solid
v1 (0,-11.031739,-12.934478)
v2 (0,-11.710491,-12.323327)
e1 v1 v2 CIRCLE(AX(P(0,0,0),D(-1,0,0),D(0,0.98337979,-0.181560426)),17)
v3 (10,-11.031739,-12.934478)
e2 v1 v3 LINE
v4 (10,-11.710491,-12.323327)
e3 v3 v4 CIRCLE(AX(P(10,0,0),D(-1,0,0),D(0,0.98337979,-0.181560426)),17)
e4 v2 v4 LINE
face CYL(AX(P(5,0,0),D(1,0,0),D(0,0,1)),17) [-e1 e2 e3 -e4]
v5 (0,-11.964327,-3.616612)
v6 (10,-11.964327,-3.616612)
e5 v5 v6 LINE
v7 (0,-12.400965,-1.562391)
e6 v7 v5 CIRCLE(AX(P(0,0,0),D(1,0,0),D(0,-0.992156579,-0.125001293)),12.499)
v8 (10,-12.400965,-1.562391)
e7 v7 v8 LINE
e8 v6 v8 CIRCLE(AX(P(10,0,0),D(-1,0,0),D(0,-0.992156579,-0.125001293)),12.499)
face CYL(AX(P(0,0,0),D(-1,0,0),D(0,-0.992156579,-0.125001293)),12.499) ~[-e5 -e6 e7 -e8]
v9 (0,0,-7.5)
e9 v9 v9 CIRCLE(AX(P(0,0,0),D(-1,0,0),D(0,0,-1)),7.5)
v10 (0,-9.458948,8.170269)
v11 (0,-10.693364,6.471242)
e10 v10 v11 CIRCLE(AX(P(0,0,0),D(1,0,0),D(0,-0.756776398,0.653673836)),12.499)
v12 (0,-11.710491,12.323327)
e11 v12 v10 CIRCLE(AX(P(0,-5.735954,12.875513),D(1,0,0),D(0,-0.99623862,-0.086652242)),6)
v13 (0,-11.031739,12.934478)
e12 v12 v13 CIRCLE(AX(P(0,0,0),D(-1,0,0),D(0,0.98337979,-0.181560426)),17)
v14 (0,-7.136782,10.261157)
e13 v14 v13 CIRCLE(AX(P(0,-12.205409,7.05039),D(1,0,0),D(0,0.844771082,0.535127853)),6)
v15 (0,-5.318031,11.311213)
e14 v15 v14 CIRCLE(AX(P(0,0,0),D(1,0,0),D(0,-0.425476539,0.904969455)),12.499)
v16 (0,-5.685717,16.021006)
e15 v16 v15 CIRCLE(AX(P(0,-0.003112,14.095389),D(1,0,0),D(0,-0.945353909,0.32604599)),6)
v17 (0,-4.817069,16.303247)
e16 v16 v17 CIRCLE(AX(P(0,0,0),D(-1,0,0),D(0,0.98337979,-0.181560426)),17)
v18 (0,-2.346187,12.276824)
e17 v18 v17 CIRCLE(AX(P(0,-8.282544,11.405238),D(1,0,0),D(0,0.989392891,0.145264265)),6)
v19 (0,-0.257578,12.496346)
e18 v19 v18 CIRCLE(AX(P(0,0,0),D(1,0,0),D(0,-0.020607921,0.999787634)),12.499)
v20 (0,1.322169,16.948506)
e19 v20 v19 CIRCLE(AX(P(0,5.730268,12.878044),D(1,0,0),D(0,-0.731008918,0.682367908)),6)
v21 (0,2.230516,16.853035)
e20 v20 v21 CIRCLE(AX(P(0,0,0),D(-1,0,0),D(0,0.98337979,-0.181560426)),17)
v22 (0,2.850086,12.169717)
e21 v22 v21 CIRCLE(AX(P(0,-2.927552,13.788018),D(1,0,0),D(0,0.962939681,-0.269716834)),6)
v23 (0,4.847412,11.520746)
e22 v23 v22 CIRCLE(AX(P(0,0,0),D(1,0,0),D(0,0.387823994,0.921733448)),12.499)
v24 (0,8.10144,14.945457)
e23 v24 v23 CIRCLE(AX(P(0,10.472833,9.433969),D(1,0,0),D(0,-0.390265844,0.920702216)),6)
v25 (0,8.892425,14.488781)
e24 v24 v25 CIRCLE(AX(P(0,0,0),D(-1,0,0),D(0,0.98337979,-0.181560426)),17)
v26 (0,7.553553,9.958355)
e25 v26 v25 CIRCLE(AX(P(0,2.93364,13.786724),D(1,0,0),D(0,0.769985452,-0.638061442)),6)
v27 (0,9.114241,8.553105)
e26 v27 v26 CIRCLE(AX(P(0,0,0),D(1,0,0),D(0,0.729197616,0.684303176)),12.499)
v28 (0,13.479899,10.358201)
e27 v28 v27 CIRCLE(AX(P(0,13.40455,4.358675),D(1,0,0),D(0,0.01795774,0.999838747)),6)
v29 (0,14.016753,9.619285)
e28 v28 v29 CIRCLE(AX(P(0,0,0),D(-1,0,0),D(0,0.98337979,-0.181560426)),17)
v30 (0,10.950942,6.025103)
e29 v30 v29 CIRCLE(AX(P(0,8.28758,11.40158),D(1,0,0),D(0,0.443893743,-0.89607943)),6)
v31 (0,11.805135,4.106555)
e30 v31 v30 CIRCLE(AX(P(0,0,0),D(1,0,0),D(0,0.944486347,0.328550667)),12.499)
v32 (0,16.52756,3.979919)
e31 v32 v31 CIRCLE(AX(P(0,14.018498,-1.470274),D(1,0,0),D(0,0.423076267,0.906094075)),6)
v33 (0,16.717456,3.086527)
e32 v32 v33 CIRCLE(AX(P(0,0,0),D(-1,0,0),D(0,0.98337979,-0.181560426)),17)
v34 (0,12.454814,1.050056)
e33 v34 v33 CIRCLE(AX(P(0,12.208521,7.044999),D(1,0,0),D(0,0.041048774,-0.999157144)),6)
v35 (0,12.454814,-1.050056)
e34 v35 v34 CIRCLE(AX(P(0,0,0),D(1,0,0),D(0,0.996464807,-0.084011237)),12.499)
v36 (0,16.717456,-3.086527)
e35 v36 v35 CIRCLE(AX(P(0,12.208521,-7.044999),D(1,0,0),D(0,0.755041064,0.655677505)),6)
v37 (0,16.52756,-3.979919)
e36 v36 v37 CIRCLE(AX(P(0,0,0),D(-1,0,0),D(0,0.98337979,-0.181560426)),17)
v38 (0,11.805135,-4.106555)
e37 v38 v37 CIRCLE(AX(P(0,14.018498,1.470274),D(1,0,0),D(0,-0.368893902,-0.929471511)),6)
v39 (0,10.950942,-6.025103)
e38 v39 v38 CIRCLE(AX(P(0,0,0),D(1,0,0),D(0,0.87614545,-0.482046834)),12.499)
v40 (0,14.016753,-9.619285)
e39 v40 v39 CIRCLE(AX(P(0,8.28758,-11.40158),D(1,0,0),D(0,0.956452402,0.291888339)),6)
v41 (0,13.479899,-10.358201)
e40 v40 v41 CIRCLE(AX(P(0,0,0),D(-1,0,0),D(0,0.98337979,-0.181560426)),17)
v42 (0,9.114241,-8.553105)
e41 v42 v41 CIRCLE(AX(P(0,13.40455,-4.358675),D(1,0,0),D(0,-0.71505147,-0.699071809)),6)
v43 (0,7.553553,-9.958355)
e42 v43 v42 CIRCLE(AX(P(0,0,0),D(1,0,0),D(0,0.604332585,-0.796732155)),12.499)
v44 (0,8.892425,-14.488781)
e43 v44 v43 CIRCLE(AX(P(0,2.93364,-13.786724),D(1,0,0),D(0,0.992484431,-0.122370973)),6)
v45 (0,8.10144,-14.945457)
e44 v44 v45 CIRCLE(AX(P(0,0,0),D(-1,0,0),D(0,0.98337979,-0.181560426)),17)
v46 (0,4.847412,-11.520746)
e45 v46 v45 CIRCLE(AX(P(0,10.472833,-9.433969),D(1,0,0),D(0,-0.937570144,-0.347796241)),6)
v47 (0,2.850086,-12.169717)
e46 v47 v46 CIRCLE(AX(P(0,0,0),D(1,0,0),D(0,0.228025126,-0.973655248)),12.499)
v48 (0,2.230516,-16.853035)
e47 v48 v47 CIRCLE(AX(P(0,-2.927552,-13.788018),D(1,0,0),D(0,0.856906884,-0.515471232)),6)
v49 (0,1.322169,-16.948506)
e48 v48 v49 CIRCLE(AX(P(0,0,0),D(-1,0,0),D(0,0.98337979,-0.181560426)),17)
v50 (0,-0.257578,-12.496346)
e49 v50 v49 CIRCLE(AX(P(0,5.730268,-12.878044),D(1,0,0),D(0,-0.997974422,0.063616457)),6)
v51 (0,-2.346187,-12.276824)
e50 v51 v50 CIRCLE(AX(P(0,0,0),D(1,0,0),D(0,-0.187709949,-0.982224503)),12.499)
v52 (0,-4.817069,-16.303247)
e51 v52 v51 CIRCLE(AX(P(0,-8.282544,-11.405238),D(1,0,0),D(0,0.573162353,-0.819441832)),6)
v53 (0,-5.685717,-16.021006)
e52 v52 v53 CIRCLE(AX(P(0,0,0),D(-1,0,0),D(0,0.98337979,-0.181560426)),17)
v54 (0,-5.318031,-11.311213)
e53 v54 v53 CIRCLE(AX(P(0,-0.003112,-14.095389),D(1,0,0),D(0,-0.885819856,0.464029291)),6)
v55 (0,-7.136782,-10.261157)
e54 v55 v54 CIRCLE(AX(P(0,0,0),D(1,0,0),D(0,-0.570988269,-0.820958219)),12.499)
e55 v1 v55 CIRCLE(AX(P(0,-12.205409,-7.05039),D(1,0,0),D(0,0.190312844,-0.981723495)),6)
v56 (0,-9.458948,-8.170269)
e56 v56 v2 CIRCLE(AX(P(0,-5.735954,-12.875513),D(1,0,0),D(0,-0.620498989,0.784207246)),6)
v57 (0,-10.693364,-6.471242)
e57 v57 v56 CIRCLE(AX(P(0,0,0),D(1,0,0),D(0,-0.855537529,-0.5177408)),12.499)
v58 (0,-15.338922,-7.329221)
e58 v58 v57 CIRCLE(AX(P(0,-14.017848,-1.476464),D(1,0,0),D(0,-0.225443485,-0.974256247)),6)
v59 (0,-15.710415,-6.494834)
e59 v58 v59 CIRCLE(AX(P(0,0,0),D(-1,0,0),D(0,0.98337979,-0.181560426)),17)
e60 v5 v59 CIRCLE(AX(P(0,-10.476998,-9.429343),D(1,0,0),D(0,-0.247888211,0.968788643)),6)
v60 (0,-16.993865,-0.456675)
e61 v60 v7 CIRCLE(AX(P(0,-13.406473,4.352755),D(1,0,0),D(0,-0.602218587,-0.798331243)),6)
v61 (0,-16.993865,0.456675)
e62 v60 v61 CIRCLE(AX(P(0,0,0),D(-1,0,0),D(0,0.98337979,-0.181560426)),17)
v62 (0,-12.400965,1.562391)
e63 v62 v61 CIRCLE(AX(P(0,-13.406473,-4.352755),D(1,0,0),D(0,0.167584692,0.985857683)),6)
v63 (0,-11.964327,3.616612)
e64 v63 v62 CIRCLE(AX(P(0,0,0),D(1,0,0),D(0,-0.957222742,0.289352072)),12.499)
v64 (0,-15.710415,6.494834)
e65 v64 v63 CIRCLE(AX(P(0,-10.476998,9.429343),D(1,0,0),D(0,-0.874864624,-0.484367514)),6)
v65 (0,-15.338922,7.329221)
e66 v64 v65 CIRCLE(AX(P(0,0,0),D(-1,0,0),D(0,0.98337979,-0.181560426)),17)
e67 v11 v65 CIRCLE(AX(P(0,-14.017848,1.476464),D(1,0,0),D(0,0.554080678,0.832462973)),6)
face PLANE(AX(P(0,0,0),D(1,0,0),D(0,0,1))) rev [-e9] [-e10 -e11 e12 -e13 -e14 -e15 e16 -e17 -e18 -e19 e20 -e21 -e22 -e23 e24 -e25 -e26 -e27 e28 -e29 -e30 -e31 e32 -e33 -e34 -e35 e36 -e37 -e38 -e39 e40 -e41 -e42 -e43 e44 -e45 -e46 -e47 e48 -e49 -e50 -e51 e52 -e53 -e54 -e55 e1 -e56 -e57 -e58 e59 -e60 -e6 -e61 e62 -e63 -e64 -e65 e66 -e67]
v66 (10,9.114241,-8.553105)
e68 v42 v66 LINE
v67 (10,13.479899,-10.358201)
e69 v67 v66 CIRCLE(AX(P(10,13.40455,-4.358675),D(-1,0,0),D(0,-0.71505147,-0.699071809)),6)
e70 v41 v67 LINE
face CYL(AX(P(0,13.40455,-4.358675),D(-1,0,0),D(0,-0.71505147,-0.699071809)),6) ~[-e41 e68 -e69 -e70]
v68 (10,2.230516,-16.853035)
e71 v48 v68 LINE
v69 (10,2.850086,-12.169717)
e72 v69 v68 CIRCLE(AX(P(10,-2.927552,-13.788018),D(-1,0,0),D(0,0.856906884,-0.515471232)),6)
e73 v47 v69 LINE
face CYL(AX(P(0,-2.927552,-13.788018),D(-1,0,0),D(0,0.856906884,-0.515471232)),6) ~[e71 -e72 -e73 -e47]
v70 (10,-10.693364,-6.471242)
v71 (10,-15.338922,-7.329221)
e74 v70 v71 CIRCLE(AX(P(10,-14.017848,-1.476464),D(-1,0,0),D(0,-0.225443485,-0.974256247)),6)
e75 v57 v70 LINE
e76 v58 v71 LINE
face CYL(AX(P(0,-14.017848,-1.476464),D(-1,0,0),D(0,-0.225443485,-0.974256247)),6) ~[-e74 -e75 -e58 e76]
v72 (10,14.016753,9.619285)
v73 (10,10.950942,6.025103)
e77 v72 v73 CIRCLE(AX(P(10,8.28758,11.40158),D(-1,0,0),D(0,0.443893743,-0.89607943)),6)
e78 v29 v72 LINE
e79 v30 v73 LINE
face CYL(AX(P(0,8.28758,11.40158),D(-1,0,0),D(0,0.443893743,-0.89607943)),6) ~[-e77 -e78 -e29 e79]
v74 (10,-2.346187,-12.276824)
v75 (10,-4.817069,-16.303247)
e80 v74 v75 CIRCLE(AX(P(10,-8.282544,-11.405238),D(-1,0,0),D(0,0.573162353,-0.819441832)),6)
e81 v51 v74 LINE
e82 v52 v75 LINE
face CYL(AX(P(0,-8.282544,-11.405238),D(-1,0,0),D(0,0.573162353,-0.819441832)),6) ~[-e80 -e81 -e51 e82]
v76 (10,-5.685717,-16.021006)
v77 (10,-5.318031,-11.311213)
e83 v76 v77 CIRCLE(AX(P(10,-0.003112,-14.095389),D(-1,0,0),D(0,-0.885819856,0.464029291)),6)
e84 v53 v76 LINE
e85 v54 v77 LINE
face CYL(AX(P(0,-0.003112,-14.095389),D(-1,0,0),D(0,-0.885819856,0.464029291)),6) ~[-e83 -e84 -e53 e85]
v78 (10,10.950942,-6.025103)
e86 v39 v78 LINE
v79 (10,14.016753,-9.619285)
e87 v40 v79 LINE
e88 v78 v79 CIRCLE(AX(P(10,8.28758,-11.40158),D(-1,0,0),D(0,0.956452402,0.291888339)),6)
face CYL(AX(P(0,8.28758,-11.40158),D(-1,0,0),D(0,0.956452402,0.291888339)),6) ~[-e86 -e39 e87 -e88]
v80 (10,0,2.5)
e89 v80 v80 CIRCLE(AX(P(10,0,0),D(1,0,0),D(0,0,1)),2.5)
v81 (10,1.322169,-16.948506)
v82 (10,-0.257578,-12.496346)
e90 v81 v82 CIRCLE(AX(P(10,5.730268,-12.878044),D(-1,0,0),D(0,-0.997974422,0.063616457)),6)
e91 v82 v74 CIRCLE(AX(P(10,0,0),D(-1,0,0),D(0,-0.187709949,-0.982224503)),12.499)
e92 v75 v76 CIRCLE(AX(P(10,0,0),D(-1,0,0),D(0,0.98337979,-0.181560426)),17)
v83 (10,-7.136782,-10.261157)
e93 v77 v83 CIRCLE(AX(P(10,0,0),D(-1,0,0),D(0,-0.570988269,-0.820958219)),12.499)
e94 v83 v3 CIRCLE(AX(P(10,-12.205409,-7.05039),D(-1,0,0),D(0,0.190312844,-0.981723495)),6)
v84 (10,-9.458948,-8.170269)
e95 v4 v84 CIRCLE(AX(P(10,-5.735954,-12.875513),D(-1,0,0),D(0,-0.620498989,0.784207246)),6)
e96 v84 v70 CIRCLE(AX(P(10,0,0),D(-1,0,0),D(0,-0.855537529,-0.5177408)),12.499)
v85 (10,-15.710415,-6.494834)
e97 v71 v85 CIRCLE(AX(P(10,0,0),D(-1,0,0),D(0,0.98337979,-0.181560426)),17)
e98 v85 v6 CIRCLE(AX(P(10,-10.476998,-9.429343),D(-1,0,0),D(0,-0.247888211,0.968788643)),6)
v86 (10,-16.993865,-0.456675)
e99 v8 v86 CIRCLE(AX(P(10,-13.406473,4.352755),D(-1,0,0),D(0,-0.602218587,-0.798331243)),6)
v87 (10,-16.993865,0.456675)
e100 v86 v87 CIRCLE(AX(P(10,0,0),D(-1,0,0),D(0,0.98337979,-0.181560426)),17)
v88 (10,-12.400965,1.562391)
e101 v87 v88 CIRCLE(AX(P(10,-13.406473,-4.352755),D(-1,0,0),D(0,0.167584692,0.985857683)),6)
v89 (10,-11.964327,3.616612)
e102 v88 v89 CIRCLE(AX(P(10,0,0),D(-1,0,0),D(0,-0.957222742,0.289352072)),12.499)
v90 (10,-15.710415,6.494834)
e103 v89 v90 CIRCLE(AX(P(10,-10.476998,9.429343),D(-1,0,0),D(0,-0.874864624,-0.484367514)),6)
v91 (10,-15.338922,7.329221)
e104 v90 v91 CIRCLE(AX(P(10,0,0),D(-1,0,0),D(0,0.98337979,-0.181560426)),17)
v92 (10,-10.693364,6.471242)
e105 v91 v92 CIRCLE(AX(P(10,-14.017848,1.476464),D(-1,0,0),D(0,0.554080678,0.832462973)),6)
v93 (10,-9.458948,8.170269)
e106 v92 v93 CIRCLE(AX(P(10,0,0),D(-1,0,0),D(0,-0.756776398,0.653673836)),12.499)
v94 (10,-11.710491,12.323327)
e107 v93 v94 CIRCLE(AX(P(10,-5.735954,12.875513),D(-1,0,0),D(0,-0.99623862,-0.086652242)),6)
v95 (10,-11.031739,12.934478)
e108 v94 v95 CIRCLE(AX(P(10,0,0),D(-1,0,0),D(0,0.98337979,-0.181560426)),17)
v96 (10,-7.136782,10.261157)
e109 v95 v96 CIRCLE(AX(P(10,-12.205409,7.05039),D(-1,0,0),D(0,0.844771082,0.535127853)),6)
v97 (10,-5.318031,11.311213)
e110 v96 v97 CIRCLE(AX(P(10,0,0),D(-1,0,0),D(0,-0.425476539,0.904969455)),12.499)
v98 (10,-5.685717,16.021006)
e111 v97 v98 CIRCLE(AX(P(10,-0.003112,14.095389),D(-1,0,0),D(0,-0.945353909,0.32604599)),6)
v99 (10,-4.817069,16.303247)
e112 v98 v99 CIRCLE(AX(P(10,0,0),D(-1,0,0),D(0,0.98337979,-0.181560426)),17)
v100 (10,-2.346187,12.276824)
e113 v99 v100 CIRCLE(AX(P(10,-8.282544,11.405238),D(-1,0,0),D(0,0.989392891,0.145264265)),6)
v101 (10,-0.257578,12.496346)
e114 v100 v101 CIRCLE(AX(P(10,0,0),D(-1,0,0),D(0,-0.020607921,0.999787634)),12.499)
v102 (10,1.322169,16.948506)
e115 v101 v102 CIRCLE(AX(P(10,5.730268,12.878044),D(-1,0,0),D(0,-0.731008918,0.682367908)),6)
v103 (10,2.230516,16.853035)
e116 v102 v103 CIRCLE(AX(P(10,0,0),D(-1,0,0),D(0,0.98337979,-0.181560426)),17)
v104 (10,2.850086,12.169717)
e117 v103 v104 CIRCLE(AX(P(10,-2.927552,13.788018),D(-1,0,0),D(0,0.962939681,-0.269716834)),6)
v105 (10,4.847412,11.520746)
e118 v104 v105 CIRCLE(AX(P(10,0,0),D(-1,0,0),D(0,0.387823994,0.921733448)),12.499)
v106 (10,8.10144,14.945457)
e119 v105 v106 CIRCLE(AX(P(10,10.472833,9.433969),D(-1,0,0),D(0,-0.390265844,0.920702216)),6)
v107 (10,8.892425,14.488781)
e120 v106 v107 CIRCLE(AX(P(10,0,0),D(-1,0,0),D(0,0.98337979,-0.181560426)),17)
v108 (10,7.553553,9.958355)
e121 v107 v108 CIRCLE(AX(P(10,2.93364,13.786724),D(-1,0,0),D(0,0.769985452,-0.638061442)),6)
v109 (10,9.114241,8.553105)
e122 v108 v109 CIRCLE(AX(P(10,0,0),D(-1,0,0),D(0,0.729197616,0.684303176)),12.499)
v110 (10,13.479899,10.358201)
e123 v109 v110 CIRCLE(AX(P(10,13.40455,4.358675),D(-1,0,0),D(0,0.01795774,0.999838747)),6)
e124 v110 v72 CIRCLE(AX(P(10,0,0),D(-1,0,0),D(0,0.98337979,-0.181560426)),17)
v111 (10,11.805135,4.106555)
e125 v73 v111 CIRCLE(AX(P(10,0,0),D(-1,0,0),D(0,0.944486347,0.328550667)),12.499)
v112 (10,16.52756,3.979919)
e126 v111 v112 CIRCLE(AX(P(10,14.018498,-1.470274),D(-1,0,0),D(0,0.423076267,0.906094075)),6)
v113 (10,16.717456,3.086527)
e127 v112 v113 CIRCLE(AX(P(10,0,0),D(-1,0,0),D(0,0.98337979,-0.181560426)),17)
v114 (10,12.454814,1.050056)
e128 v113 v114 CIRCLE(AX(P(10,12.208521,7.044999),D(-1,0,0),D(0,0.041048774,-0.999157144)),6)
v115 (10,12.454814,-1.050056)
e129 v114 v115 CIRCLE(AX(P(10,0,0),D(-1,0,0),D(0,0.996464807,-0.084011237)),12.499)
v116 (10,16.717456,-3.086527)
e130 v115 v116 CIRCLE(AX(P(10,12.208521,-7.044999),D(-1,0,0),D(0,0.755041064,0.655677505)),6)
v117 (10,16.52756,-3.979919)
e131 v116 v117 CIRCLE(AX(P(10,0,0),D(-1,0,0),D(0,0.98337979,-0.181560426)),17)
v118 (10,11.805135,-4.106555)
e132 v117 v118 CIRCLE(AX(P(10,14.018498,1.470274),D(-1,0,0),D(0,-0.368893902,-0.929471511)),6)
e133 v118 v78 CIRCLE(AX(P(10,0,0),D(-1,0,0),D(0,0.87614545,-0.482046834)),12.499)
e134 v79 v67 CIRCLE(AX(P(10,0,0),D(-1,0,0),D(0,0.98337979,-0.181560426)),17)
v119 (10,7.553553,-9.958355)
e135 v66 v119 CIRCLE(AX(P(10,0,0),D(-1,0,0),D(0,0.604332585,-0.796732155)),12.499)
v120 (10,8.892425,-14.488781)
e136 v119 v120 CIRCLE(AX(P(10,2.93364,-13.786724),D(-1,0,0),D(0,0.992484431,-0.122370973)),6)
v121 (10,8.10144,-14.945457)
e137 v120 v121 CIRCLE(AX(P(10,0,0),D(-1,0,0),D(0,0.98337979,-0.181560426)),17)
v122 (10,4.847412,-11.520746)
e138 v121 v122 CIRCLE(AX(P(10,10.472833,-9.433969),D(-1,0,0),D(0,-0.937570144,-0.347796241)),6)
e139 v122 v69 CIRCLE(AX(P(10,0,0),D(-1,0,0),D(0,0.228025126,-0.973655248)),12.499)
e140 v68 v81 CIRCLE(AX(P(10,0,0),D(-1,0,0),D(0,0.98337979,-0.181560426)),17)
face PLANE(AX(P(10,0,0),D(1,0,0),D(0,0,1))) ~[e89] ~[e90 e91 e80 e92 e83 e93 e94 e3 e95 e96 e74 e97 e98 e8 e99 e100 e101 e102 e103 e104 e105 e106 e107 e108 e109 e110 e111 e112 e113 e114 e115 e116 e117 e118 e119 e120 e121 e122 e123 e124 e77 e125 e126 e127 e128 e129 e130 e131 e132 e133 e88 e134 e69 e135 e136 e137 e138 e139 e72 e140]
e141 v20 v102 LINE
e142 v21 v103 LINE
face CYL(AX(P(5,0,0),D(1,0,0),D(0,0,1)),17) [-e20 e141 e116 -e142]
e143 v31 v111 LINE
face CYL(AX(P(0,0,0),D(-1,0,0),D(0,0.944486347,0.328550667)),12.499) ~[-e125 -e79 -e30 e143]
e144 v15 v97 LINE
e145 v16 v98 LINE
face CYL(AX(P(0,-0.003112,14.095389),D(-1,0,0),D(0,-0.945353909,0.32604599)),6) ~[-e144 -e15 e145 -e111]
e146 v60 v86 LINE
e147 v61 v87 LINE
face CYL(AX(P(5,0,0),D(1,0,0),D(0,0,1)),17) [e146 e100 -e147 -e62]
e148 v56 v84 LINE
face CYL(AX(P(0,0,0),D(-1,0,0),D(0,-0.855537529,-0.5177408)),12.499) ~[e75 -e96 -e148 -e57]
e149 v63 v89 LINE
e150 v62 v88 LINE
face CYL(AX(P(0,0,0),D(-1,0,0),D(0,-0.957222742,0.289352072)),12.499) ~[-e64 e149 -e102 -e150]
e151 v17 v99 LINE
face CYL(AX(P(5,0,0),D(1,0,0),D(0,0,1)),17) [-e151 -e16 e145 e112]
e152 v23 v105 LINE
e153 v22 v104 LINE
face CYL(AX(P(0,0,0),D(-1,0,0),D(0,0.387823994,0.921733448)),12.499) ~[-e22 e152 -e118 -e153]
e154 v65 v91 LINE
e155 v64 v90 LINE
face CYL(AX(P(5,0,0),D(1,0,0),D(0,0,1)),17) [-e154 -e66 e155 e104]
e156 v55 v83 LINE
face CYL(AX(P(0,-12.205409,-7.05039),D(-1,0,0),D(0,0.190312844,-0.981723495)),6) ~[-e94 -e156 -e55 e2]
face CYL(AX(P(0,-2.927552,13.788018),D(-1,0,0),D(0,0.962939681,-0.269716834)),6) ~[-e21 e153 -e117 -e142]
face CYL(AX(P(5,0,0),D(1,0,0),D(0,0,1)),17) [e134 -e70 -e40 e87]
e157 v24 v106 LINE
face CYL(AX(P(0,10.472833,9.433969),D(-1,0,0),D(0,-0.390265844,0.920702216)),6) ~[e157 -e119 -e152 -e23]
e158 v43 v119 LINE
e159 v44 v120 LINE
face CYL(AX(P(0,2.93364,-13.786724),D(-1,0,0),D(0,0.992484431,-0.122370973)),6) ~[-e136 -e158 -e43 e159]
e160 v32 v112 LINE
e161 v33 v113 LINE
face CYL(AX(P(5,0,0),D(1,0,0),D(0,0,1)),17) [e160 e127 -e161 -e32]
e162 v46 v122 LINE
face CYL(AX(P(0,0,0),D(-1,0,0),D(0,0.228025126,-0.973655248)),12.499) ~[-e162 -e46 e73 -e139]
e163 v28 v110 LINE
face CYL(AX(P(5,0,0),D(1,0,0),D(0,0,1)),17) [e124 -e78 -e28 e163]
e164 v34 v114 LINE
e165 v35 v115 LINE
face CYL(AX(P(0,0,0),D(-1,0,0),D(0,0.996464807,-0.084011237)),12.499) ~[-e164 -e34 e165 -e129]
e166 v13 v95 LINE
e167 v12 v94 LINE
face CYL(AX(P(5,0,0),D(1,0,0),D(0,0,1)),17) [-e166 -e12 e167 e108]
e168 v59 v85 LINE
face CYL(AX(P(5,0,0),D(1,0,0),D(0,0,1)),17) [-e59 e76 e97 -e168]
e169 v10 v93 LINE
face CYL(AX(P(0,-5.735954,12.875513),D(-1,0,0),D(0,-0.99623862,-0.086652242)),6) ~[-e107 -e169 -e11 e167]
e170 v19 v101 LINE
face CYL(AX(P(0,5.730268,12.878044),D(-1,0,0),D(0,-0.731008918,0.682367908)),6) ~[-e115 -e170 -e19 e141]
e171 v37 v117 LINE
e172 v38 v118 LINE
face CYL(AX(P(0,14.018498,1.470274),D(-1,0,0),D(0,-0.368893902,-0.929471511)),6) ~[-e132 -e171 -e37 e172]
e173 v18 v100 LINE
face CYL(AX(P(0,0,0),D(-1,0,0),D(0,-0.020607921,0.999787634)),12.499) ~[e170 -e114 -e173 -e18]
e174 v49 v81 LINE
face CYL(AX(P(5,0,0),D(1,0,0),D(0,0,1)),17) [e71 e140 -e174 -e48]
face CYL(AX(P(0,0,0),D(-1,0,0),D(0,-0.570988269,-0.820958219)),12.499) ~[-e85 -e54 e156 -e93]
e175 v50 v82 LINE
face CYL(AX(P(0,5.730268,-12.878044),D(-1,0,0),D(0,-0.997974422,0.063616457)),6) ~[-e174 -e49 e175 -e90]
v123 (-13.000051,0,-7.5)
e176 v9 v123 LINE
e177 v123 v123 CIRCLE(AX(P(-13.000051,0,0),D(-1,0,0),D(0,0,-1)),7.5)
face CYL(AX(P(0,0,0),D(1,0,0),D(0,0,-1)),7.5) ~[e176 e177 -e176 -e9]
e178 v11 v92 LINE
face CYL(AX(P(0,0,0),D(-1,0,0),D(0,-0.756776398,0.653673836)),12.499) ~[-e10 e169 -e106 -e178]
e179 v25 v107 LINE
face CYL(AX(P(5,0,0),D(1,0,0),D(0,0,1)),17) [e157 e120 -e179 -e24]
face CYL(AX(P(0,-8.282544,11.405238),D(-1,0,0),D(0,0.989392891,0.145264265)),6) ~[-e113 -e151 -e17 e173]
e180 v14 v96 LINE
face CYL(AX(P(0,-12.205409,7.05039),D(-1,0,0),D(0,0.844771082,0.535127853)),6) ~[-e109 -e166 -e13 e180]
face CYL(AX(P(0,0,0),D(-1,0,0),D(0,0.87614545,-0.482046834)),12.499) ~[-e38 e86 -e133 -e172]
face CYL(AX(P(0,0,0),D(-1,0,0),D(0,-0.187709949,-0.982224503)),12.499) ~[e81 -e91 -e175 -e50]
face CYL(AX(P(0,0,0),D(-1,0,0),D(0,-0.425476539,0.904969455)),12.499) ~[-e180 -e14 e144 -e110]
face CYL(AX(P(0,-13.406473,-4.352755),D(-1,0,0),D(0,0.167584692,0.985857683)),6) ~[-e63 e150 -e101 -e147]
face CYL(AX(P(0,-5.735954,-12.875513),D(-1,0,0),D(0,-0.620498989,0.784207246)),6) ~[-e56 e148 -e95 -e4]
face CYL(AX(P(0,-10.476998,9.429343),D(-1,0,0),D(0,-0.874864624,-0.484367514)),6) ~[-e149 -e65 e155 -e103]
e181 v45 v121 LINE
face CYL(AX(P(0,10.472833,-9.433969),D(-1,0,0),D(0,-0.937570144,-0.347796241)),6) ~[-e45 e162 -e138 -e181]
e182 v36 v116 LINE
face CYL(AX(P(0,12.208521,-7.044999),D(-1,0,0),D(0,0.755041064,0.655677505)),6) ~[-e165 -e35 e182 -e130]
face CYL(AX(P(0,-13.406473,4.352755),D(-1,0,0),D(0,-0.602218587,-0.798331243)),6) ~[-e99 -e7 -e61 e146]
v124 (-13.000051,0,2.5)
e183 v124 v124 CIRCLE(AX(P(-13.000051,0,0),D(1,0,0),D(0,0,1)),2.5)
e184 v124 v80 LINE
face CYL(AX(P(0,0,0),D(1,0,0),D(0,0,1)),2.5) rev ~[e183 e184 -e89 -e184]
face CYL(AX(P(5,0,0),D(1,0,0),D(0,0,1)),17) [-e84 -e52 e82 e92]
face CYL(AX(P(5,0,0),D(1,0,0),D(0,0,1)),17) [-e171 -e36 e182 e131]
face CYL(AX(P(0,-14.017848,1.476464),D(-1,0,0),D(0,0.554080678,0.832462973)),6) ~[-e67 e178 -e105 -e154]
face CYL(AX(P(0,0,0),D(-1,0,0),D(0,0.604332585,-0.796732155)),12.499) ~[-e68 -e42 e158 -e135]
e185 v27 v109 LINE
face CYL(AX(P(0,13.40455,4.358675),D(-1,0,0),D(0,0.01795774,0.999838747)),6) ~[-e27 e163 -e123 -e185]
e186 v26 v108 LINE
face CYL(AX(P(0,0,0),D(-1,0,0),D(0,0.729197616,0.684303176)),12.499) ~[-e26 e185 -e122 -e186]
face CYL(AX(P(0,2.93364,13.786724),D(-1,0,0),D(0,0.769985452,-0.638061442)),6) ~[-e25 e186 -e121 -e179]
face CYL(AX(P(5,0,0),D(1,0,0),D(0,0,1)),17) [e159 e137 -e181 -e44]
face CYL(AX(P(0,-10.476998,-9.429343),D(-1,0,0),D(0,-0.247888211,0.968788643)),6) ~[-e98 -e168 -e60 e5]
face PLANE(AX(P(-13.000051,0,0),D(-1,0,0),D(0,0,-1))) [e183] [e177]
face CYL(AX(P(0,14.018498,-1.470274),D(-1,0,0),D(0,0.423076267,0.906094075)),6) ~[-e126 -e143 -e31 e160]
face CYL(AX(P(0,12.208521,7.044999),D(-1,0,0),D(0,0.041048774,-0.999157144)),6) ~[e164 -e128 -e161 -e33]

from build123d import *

# Parameters (mm, degrees)
BASPROSKE_W      = 10
BASPROSKE_H      = 17
TOOTHCUT_DEPTH   = 27.038433133
TEETHCUTS_COUNT  = 15
TEETHCUTS_ANGLE  = 336
HUBNEAONESKE_R   = 7.5
HUBNEARONE_DEPTH = 13.0000508
BORSKE_R         = 2.5
BORE_DEPTH       = 23.0000508


with BuildPart() as part:
    # BasProSke → Base-Revolve (revolve)
    with BuildSketch(Plane(origin=(0, 0, 0), x_dir=(1, 0, 0), z_dir=(0, 1, 0)), mode=Mode.PRIVATE) as base_revolve_sk:
        with Locations((5, 8.5)):
            Rectangle(BASPROSKE_W, BASPROSKE_H)
    revolve(base_revolve_sk.sketch.rotate(Axis((-10, 0, 0), (1, 0, 0)), 180), axis=Axis((-10, 0, 0), (1, 0, 0)))

    # TooCutSke → ToothCut (cut, through all)
    with BuildSketch(Plane(origin=(0, 0, 0), x_dir=(0, 0, -1), z_dir=(1, 0, 0))):
        with BuildLine():
            ThreePointArc((1.050056448, 12.454813626), (0, 12.499), (-1.050056448, 12.454813626))
            ThreePointArc((-1.050056448, 12.454813626), (-1.638118106, 14.809604533), (-3.110934279, 16.73876737))
            ThreePointArc((-3.110934279, 16.73876737), (0, 17.0254), (3.110934279, 16.73876737))
            ThreePointArc((3.110934279, 16.73876737), (1.638118106, 14.809604533), (1.050056448, 12.454813626))
        make_face()
    toothcut = extrude(amount=TOOTHCUT_DEPTH, mode=Mode.SUBTRACT)

    # TeethCuts: ToothCut ×15 about axis
    teethcuts_axis = Axis((-10, 0, 0), (1, 0, 0))
    for i in range(1, TEETHCUTS_COUNT):
        add(toothcut.rotate(teethcuts_axis, i * TEETHCUTS_ANGLE / (TEETHCUTS_COUNT - 1)), mode=Mode.SUBTRACT)

    # HubNeaOneSke → HubNearOne (add)
    with BuildSketch(Plane.ZY):
        with Locations(Location((0, 0, 0), (0, 0, 180))):
            Circle(HUBNEAONESKE_R)
    extrude(amount=HUBNEARONE_DEPTH)

    # BorSke → Bore (cut, symmetric)
    with BuildSketch(Plane(origin=(0, 0, 0), x_dir=(0, 0, -1), z_dir=(1, 0, 0))):
        with Locations(Location((0, 0, 0), (0, 0, 180))):
            Circle(BORSKE_R)
    extrude(amount=BORE_DEPTH, both=True, mode=Mode.SUBTRACT)


solid = part.part
